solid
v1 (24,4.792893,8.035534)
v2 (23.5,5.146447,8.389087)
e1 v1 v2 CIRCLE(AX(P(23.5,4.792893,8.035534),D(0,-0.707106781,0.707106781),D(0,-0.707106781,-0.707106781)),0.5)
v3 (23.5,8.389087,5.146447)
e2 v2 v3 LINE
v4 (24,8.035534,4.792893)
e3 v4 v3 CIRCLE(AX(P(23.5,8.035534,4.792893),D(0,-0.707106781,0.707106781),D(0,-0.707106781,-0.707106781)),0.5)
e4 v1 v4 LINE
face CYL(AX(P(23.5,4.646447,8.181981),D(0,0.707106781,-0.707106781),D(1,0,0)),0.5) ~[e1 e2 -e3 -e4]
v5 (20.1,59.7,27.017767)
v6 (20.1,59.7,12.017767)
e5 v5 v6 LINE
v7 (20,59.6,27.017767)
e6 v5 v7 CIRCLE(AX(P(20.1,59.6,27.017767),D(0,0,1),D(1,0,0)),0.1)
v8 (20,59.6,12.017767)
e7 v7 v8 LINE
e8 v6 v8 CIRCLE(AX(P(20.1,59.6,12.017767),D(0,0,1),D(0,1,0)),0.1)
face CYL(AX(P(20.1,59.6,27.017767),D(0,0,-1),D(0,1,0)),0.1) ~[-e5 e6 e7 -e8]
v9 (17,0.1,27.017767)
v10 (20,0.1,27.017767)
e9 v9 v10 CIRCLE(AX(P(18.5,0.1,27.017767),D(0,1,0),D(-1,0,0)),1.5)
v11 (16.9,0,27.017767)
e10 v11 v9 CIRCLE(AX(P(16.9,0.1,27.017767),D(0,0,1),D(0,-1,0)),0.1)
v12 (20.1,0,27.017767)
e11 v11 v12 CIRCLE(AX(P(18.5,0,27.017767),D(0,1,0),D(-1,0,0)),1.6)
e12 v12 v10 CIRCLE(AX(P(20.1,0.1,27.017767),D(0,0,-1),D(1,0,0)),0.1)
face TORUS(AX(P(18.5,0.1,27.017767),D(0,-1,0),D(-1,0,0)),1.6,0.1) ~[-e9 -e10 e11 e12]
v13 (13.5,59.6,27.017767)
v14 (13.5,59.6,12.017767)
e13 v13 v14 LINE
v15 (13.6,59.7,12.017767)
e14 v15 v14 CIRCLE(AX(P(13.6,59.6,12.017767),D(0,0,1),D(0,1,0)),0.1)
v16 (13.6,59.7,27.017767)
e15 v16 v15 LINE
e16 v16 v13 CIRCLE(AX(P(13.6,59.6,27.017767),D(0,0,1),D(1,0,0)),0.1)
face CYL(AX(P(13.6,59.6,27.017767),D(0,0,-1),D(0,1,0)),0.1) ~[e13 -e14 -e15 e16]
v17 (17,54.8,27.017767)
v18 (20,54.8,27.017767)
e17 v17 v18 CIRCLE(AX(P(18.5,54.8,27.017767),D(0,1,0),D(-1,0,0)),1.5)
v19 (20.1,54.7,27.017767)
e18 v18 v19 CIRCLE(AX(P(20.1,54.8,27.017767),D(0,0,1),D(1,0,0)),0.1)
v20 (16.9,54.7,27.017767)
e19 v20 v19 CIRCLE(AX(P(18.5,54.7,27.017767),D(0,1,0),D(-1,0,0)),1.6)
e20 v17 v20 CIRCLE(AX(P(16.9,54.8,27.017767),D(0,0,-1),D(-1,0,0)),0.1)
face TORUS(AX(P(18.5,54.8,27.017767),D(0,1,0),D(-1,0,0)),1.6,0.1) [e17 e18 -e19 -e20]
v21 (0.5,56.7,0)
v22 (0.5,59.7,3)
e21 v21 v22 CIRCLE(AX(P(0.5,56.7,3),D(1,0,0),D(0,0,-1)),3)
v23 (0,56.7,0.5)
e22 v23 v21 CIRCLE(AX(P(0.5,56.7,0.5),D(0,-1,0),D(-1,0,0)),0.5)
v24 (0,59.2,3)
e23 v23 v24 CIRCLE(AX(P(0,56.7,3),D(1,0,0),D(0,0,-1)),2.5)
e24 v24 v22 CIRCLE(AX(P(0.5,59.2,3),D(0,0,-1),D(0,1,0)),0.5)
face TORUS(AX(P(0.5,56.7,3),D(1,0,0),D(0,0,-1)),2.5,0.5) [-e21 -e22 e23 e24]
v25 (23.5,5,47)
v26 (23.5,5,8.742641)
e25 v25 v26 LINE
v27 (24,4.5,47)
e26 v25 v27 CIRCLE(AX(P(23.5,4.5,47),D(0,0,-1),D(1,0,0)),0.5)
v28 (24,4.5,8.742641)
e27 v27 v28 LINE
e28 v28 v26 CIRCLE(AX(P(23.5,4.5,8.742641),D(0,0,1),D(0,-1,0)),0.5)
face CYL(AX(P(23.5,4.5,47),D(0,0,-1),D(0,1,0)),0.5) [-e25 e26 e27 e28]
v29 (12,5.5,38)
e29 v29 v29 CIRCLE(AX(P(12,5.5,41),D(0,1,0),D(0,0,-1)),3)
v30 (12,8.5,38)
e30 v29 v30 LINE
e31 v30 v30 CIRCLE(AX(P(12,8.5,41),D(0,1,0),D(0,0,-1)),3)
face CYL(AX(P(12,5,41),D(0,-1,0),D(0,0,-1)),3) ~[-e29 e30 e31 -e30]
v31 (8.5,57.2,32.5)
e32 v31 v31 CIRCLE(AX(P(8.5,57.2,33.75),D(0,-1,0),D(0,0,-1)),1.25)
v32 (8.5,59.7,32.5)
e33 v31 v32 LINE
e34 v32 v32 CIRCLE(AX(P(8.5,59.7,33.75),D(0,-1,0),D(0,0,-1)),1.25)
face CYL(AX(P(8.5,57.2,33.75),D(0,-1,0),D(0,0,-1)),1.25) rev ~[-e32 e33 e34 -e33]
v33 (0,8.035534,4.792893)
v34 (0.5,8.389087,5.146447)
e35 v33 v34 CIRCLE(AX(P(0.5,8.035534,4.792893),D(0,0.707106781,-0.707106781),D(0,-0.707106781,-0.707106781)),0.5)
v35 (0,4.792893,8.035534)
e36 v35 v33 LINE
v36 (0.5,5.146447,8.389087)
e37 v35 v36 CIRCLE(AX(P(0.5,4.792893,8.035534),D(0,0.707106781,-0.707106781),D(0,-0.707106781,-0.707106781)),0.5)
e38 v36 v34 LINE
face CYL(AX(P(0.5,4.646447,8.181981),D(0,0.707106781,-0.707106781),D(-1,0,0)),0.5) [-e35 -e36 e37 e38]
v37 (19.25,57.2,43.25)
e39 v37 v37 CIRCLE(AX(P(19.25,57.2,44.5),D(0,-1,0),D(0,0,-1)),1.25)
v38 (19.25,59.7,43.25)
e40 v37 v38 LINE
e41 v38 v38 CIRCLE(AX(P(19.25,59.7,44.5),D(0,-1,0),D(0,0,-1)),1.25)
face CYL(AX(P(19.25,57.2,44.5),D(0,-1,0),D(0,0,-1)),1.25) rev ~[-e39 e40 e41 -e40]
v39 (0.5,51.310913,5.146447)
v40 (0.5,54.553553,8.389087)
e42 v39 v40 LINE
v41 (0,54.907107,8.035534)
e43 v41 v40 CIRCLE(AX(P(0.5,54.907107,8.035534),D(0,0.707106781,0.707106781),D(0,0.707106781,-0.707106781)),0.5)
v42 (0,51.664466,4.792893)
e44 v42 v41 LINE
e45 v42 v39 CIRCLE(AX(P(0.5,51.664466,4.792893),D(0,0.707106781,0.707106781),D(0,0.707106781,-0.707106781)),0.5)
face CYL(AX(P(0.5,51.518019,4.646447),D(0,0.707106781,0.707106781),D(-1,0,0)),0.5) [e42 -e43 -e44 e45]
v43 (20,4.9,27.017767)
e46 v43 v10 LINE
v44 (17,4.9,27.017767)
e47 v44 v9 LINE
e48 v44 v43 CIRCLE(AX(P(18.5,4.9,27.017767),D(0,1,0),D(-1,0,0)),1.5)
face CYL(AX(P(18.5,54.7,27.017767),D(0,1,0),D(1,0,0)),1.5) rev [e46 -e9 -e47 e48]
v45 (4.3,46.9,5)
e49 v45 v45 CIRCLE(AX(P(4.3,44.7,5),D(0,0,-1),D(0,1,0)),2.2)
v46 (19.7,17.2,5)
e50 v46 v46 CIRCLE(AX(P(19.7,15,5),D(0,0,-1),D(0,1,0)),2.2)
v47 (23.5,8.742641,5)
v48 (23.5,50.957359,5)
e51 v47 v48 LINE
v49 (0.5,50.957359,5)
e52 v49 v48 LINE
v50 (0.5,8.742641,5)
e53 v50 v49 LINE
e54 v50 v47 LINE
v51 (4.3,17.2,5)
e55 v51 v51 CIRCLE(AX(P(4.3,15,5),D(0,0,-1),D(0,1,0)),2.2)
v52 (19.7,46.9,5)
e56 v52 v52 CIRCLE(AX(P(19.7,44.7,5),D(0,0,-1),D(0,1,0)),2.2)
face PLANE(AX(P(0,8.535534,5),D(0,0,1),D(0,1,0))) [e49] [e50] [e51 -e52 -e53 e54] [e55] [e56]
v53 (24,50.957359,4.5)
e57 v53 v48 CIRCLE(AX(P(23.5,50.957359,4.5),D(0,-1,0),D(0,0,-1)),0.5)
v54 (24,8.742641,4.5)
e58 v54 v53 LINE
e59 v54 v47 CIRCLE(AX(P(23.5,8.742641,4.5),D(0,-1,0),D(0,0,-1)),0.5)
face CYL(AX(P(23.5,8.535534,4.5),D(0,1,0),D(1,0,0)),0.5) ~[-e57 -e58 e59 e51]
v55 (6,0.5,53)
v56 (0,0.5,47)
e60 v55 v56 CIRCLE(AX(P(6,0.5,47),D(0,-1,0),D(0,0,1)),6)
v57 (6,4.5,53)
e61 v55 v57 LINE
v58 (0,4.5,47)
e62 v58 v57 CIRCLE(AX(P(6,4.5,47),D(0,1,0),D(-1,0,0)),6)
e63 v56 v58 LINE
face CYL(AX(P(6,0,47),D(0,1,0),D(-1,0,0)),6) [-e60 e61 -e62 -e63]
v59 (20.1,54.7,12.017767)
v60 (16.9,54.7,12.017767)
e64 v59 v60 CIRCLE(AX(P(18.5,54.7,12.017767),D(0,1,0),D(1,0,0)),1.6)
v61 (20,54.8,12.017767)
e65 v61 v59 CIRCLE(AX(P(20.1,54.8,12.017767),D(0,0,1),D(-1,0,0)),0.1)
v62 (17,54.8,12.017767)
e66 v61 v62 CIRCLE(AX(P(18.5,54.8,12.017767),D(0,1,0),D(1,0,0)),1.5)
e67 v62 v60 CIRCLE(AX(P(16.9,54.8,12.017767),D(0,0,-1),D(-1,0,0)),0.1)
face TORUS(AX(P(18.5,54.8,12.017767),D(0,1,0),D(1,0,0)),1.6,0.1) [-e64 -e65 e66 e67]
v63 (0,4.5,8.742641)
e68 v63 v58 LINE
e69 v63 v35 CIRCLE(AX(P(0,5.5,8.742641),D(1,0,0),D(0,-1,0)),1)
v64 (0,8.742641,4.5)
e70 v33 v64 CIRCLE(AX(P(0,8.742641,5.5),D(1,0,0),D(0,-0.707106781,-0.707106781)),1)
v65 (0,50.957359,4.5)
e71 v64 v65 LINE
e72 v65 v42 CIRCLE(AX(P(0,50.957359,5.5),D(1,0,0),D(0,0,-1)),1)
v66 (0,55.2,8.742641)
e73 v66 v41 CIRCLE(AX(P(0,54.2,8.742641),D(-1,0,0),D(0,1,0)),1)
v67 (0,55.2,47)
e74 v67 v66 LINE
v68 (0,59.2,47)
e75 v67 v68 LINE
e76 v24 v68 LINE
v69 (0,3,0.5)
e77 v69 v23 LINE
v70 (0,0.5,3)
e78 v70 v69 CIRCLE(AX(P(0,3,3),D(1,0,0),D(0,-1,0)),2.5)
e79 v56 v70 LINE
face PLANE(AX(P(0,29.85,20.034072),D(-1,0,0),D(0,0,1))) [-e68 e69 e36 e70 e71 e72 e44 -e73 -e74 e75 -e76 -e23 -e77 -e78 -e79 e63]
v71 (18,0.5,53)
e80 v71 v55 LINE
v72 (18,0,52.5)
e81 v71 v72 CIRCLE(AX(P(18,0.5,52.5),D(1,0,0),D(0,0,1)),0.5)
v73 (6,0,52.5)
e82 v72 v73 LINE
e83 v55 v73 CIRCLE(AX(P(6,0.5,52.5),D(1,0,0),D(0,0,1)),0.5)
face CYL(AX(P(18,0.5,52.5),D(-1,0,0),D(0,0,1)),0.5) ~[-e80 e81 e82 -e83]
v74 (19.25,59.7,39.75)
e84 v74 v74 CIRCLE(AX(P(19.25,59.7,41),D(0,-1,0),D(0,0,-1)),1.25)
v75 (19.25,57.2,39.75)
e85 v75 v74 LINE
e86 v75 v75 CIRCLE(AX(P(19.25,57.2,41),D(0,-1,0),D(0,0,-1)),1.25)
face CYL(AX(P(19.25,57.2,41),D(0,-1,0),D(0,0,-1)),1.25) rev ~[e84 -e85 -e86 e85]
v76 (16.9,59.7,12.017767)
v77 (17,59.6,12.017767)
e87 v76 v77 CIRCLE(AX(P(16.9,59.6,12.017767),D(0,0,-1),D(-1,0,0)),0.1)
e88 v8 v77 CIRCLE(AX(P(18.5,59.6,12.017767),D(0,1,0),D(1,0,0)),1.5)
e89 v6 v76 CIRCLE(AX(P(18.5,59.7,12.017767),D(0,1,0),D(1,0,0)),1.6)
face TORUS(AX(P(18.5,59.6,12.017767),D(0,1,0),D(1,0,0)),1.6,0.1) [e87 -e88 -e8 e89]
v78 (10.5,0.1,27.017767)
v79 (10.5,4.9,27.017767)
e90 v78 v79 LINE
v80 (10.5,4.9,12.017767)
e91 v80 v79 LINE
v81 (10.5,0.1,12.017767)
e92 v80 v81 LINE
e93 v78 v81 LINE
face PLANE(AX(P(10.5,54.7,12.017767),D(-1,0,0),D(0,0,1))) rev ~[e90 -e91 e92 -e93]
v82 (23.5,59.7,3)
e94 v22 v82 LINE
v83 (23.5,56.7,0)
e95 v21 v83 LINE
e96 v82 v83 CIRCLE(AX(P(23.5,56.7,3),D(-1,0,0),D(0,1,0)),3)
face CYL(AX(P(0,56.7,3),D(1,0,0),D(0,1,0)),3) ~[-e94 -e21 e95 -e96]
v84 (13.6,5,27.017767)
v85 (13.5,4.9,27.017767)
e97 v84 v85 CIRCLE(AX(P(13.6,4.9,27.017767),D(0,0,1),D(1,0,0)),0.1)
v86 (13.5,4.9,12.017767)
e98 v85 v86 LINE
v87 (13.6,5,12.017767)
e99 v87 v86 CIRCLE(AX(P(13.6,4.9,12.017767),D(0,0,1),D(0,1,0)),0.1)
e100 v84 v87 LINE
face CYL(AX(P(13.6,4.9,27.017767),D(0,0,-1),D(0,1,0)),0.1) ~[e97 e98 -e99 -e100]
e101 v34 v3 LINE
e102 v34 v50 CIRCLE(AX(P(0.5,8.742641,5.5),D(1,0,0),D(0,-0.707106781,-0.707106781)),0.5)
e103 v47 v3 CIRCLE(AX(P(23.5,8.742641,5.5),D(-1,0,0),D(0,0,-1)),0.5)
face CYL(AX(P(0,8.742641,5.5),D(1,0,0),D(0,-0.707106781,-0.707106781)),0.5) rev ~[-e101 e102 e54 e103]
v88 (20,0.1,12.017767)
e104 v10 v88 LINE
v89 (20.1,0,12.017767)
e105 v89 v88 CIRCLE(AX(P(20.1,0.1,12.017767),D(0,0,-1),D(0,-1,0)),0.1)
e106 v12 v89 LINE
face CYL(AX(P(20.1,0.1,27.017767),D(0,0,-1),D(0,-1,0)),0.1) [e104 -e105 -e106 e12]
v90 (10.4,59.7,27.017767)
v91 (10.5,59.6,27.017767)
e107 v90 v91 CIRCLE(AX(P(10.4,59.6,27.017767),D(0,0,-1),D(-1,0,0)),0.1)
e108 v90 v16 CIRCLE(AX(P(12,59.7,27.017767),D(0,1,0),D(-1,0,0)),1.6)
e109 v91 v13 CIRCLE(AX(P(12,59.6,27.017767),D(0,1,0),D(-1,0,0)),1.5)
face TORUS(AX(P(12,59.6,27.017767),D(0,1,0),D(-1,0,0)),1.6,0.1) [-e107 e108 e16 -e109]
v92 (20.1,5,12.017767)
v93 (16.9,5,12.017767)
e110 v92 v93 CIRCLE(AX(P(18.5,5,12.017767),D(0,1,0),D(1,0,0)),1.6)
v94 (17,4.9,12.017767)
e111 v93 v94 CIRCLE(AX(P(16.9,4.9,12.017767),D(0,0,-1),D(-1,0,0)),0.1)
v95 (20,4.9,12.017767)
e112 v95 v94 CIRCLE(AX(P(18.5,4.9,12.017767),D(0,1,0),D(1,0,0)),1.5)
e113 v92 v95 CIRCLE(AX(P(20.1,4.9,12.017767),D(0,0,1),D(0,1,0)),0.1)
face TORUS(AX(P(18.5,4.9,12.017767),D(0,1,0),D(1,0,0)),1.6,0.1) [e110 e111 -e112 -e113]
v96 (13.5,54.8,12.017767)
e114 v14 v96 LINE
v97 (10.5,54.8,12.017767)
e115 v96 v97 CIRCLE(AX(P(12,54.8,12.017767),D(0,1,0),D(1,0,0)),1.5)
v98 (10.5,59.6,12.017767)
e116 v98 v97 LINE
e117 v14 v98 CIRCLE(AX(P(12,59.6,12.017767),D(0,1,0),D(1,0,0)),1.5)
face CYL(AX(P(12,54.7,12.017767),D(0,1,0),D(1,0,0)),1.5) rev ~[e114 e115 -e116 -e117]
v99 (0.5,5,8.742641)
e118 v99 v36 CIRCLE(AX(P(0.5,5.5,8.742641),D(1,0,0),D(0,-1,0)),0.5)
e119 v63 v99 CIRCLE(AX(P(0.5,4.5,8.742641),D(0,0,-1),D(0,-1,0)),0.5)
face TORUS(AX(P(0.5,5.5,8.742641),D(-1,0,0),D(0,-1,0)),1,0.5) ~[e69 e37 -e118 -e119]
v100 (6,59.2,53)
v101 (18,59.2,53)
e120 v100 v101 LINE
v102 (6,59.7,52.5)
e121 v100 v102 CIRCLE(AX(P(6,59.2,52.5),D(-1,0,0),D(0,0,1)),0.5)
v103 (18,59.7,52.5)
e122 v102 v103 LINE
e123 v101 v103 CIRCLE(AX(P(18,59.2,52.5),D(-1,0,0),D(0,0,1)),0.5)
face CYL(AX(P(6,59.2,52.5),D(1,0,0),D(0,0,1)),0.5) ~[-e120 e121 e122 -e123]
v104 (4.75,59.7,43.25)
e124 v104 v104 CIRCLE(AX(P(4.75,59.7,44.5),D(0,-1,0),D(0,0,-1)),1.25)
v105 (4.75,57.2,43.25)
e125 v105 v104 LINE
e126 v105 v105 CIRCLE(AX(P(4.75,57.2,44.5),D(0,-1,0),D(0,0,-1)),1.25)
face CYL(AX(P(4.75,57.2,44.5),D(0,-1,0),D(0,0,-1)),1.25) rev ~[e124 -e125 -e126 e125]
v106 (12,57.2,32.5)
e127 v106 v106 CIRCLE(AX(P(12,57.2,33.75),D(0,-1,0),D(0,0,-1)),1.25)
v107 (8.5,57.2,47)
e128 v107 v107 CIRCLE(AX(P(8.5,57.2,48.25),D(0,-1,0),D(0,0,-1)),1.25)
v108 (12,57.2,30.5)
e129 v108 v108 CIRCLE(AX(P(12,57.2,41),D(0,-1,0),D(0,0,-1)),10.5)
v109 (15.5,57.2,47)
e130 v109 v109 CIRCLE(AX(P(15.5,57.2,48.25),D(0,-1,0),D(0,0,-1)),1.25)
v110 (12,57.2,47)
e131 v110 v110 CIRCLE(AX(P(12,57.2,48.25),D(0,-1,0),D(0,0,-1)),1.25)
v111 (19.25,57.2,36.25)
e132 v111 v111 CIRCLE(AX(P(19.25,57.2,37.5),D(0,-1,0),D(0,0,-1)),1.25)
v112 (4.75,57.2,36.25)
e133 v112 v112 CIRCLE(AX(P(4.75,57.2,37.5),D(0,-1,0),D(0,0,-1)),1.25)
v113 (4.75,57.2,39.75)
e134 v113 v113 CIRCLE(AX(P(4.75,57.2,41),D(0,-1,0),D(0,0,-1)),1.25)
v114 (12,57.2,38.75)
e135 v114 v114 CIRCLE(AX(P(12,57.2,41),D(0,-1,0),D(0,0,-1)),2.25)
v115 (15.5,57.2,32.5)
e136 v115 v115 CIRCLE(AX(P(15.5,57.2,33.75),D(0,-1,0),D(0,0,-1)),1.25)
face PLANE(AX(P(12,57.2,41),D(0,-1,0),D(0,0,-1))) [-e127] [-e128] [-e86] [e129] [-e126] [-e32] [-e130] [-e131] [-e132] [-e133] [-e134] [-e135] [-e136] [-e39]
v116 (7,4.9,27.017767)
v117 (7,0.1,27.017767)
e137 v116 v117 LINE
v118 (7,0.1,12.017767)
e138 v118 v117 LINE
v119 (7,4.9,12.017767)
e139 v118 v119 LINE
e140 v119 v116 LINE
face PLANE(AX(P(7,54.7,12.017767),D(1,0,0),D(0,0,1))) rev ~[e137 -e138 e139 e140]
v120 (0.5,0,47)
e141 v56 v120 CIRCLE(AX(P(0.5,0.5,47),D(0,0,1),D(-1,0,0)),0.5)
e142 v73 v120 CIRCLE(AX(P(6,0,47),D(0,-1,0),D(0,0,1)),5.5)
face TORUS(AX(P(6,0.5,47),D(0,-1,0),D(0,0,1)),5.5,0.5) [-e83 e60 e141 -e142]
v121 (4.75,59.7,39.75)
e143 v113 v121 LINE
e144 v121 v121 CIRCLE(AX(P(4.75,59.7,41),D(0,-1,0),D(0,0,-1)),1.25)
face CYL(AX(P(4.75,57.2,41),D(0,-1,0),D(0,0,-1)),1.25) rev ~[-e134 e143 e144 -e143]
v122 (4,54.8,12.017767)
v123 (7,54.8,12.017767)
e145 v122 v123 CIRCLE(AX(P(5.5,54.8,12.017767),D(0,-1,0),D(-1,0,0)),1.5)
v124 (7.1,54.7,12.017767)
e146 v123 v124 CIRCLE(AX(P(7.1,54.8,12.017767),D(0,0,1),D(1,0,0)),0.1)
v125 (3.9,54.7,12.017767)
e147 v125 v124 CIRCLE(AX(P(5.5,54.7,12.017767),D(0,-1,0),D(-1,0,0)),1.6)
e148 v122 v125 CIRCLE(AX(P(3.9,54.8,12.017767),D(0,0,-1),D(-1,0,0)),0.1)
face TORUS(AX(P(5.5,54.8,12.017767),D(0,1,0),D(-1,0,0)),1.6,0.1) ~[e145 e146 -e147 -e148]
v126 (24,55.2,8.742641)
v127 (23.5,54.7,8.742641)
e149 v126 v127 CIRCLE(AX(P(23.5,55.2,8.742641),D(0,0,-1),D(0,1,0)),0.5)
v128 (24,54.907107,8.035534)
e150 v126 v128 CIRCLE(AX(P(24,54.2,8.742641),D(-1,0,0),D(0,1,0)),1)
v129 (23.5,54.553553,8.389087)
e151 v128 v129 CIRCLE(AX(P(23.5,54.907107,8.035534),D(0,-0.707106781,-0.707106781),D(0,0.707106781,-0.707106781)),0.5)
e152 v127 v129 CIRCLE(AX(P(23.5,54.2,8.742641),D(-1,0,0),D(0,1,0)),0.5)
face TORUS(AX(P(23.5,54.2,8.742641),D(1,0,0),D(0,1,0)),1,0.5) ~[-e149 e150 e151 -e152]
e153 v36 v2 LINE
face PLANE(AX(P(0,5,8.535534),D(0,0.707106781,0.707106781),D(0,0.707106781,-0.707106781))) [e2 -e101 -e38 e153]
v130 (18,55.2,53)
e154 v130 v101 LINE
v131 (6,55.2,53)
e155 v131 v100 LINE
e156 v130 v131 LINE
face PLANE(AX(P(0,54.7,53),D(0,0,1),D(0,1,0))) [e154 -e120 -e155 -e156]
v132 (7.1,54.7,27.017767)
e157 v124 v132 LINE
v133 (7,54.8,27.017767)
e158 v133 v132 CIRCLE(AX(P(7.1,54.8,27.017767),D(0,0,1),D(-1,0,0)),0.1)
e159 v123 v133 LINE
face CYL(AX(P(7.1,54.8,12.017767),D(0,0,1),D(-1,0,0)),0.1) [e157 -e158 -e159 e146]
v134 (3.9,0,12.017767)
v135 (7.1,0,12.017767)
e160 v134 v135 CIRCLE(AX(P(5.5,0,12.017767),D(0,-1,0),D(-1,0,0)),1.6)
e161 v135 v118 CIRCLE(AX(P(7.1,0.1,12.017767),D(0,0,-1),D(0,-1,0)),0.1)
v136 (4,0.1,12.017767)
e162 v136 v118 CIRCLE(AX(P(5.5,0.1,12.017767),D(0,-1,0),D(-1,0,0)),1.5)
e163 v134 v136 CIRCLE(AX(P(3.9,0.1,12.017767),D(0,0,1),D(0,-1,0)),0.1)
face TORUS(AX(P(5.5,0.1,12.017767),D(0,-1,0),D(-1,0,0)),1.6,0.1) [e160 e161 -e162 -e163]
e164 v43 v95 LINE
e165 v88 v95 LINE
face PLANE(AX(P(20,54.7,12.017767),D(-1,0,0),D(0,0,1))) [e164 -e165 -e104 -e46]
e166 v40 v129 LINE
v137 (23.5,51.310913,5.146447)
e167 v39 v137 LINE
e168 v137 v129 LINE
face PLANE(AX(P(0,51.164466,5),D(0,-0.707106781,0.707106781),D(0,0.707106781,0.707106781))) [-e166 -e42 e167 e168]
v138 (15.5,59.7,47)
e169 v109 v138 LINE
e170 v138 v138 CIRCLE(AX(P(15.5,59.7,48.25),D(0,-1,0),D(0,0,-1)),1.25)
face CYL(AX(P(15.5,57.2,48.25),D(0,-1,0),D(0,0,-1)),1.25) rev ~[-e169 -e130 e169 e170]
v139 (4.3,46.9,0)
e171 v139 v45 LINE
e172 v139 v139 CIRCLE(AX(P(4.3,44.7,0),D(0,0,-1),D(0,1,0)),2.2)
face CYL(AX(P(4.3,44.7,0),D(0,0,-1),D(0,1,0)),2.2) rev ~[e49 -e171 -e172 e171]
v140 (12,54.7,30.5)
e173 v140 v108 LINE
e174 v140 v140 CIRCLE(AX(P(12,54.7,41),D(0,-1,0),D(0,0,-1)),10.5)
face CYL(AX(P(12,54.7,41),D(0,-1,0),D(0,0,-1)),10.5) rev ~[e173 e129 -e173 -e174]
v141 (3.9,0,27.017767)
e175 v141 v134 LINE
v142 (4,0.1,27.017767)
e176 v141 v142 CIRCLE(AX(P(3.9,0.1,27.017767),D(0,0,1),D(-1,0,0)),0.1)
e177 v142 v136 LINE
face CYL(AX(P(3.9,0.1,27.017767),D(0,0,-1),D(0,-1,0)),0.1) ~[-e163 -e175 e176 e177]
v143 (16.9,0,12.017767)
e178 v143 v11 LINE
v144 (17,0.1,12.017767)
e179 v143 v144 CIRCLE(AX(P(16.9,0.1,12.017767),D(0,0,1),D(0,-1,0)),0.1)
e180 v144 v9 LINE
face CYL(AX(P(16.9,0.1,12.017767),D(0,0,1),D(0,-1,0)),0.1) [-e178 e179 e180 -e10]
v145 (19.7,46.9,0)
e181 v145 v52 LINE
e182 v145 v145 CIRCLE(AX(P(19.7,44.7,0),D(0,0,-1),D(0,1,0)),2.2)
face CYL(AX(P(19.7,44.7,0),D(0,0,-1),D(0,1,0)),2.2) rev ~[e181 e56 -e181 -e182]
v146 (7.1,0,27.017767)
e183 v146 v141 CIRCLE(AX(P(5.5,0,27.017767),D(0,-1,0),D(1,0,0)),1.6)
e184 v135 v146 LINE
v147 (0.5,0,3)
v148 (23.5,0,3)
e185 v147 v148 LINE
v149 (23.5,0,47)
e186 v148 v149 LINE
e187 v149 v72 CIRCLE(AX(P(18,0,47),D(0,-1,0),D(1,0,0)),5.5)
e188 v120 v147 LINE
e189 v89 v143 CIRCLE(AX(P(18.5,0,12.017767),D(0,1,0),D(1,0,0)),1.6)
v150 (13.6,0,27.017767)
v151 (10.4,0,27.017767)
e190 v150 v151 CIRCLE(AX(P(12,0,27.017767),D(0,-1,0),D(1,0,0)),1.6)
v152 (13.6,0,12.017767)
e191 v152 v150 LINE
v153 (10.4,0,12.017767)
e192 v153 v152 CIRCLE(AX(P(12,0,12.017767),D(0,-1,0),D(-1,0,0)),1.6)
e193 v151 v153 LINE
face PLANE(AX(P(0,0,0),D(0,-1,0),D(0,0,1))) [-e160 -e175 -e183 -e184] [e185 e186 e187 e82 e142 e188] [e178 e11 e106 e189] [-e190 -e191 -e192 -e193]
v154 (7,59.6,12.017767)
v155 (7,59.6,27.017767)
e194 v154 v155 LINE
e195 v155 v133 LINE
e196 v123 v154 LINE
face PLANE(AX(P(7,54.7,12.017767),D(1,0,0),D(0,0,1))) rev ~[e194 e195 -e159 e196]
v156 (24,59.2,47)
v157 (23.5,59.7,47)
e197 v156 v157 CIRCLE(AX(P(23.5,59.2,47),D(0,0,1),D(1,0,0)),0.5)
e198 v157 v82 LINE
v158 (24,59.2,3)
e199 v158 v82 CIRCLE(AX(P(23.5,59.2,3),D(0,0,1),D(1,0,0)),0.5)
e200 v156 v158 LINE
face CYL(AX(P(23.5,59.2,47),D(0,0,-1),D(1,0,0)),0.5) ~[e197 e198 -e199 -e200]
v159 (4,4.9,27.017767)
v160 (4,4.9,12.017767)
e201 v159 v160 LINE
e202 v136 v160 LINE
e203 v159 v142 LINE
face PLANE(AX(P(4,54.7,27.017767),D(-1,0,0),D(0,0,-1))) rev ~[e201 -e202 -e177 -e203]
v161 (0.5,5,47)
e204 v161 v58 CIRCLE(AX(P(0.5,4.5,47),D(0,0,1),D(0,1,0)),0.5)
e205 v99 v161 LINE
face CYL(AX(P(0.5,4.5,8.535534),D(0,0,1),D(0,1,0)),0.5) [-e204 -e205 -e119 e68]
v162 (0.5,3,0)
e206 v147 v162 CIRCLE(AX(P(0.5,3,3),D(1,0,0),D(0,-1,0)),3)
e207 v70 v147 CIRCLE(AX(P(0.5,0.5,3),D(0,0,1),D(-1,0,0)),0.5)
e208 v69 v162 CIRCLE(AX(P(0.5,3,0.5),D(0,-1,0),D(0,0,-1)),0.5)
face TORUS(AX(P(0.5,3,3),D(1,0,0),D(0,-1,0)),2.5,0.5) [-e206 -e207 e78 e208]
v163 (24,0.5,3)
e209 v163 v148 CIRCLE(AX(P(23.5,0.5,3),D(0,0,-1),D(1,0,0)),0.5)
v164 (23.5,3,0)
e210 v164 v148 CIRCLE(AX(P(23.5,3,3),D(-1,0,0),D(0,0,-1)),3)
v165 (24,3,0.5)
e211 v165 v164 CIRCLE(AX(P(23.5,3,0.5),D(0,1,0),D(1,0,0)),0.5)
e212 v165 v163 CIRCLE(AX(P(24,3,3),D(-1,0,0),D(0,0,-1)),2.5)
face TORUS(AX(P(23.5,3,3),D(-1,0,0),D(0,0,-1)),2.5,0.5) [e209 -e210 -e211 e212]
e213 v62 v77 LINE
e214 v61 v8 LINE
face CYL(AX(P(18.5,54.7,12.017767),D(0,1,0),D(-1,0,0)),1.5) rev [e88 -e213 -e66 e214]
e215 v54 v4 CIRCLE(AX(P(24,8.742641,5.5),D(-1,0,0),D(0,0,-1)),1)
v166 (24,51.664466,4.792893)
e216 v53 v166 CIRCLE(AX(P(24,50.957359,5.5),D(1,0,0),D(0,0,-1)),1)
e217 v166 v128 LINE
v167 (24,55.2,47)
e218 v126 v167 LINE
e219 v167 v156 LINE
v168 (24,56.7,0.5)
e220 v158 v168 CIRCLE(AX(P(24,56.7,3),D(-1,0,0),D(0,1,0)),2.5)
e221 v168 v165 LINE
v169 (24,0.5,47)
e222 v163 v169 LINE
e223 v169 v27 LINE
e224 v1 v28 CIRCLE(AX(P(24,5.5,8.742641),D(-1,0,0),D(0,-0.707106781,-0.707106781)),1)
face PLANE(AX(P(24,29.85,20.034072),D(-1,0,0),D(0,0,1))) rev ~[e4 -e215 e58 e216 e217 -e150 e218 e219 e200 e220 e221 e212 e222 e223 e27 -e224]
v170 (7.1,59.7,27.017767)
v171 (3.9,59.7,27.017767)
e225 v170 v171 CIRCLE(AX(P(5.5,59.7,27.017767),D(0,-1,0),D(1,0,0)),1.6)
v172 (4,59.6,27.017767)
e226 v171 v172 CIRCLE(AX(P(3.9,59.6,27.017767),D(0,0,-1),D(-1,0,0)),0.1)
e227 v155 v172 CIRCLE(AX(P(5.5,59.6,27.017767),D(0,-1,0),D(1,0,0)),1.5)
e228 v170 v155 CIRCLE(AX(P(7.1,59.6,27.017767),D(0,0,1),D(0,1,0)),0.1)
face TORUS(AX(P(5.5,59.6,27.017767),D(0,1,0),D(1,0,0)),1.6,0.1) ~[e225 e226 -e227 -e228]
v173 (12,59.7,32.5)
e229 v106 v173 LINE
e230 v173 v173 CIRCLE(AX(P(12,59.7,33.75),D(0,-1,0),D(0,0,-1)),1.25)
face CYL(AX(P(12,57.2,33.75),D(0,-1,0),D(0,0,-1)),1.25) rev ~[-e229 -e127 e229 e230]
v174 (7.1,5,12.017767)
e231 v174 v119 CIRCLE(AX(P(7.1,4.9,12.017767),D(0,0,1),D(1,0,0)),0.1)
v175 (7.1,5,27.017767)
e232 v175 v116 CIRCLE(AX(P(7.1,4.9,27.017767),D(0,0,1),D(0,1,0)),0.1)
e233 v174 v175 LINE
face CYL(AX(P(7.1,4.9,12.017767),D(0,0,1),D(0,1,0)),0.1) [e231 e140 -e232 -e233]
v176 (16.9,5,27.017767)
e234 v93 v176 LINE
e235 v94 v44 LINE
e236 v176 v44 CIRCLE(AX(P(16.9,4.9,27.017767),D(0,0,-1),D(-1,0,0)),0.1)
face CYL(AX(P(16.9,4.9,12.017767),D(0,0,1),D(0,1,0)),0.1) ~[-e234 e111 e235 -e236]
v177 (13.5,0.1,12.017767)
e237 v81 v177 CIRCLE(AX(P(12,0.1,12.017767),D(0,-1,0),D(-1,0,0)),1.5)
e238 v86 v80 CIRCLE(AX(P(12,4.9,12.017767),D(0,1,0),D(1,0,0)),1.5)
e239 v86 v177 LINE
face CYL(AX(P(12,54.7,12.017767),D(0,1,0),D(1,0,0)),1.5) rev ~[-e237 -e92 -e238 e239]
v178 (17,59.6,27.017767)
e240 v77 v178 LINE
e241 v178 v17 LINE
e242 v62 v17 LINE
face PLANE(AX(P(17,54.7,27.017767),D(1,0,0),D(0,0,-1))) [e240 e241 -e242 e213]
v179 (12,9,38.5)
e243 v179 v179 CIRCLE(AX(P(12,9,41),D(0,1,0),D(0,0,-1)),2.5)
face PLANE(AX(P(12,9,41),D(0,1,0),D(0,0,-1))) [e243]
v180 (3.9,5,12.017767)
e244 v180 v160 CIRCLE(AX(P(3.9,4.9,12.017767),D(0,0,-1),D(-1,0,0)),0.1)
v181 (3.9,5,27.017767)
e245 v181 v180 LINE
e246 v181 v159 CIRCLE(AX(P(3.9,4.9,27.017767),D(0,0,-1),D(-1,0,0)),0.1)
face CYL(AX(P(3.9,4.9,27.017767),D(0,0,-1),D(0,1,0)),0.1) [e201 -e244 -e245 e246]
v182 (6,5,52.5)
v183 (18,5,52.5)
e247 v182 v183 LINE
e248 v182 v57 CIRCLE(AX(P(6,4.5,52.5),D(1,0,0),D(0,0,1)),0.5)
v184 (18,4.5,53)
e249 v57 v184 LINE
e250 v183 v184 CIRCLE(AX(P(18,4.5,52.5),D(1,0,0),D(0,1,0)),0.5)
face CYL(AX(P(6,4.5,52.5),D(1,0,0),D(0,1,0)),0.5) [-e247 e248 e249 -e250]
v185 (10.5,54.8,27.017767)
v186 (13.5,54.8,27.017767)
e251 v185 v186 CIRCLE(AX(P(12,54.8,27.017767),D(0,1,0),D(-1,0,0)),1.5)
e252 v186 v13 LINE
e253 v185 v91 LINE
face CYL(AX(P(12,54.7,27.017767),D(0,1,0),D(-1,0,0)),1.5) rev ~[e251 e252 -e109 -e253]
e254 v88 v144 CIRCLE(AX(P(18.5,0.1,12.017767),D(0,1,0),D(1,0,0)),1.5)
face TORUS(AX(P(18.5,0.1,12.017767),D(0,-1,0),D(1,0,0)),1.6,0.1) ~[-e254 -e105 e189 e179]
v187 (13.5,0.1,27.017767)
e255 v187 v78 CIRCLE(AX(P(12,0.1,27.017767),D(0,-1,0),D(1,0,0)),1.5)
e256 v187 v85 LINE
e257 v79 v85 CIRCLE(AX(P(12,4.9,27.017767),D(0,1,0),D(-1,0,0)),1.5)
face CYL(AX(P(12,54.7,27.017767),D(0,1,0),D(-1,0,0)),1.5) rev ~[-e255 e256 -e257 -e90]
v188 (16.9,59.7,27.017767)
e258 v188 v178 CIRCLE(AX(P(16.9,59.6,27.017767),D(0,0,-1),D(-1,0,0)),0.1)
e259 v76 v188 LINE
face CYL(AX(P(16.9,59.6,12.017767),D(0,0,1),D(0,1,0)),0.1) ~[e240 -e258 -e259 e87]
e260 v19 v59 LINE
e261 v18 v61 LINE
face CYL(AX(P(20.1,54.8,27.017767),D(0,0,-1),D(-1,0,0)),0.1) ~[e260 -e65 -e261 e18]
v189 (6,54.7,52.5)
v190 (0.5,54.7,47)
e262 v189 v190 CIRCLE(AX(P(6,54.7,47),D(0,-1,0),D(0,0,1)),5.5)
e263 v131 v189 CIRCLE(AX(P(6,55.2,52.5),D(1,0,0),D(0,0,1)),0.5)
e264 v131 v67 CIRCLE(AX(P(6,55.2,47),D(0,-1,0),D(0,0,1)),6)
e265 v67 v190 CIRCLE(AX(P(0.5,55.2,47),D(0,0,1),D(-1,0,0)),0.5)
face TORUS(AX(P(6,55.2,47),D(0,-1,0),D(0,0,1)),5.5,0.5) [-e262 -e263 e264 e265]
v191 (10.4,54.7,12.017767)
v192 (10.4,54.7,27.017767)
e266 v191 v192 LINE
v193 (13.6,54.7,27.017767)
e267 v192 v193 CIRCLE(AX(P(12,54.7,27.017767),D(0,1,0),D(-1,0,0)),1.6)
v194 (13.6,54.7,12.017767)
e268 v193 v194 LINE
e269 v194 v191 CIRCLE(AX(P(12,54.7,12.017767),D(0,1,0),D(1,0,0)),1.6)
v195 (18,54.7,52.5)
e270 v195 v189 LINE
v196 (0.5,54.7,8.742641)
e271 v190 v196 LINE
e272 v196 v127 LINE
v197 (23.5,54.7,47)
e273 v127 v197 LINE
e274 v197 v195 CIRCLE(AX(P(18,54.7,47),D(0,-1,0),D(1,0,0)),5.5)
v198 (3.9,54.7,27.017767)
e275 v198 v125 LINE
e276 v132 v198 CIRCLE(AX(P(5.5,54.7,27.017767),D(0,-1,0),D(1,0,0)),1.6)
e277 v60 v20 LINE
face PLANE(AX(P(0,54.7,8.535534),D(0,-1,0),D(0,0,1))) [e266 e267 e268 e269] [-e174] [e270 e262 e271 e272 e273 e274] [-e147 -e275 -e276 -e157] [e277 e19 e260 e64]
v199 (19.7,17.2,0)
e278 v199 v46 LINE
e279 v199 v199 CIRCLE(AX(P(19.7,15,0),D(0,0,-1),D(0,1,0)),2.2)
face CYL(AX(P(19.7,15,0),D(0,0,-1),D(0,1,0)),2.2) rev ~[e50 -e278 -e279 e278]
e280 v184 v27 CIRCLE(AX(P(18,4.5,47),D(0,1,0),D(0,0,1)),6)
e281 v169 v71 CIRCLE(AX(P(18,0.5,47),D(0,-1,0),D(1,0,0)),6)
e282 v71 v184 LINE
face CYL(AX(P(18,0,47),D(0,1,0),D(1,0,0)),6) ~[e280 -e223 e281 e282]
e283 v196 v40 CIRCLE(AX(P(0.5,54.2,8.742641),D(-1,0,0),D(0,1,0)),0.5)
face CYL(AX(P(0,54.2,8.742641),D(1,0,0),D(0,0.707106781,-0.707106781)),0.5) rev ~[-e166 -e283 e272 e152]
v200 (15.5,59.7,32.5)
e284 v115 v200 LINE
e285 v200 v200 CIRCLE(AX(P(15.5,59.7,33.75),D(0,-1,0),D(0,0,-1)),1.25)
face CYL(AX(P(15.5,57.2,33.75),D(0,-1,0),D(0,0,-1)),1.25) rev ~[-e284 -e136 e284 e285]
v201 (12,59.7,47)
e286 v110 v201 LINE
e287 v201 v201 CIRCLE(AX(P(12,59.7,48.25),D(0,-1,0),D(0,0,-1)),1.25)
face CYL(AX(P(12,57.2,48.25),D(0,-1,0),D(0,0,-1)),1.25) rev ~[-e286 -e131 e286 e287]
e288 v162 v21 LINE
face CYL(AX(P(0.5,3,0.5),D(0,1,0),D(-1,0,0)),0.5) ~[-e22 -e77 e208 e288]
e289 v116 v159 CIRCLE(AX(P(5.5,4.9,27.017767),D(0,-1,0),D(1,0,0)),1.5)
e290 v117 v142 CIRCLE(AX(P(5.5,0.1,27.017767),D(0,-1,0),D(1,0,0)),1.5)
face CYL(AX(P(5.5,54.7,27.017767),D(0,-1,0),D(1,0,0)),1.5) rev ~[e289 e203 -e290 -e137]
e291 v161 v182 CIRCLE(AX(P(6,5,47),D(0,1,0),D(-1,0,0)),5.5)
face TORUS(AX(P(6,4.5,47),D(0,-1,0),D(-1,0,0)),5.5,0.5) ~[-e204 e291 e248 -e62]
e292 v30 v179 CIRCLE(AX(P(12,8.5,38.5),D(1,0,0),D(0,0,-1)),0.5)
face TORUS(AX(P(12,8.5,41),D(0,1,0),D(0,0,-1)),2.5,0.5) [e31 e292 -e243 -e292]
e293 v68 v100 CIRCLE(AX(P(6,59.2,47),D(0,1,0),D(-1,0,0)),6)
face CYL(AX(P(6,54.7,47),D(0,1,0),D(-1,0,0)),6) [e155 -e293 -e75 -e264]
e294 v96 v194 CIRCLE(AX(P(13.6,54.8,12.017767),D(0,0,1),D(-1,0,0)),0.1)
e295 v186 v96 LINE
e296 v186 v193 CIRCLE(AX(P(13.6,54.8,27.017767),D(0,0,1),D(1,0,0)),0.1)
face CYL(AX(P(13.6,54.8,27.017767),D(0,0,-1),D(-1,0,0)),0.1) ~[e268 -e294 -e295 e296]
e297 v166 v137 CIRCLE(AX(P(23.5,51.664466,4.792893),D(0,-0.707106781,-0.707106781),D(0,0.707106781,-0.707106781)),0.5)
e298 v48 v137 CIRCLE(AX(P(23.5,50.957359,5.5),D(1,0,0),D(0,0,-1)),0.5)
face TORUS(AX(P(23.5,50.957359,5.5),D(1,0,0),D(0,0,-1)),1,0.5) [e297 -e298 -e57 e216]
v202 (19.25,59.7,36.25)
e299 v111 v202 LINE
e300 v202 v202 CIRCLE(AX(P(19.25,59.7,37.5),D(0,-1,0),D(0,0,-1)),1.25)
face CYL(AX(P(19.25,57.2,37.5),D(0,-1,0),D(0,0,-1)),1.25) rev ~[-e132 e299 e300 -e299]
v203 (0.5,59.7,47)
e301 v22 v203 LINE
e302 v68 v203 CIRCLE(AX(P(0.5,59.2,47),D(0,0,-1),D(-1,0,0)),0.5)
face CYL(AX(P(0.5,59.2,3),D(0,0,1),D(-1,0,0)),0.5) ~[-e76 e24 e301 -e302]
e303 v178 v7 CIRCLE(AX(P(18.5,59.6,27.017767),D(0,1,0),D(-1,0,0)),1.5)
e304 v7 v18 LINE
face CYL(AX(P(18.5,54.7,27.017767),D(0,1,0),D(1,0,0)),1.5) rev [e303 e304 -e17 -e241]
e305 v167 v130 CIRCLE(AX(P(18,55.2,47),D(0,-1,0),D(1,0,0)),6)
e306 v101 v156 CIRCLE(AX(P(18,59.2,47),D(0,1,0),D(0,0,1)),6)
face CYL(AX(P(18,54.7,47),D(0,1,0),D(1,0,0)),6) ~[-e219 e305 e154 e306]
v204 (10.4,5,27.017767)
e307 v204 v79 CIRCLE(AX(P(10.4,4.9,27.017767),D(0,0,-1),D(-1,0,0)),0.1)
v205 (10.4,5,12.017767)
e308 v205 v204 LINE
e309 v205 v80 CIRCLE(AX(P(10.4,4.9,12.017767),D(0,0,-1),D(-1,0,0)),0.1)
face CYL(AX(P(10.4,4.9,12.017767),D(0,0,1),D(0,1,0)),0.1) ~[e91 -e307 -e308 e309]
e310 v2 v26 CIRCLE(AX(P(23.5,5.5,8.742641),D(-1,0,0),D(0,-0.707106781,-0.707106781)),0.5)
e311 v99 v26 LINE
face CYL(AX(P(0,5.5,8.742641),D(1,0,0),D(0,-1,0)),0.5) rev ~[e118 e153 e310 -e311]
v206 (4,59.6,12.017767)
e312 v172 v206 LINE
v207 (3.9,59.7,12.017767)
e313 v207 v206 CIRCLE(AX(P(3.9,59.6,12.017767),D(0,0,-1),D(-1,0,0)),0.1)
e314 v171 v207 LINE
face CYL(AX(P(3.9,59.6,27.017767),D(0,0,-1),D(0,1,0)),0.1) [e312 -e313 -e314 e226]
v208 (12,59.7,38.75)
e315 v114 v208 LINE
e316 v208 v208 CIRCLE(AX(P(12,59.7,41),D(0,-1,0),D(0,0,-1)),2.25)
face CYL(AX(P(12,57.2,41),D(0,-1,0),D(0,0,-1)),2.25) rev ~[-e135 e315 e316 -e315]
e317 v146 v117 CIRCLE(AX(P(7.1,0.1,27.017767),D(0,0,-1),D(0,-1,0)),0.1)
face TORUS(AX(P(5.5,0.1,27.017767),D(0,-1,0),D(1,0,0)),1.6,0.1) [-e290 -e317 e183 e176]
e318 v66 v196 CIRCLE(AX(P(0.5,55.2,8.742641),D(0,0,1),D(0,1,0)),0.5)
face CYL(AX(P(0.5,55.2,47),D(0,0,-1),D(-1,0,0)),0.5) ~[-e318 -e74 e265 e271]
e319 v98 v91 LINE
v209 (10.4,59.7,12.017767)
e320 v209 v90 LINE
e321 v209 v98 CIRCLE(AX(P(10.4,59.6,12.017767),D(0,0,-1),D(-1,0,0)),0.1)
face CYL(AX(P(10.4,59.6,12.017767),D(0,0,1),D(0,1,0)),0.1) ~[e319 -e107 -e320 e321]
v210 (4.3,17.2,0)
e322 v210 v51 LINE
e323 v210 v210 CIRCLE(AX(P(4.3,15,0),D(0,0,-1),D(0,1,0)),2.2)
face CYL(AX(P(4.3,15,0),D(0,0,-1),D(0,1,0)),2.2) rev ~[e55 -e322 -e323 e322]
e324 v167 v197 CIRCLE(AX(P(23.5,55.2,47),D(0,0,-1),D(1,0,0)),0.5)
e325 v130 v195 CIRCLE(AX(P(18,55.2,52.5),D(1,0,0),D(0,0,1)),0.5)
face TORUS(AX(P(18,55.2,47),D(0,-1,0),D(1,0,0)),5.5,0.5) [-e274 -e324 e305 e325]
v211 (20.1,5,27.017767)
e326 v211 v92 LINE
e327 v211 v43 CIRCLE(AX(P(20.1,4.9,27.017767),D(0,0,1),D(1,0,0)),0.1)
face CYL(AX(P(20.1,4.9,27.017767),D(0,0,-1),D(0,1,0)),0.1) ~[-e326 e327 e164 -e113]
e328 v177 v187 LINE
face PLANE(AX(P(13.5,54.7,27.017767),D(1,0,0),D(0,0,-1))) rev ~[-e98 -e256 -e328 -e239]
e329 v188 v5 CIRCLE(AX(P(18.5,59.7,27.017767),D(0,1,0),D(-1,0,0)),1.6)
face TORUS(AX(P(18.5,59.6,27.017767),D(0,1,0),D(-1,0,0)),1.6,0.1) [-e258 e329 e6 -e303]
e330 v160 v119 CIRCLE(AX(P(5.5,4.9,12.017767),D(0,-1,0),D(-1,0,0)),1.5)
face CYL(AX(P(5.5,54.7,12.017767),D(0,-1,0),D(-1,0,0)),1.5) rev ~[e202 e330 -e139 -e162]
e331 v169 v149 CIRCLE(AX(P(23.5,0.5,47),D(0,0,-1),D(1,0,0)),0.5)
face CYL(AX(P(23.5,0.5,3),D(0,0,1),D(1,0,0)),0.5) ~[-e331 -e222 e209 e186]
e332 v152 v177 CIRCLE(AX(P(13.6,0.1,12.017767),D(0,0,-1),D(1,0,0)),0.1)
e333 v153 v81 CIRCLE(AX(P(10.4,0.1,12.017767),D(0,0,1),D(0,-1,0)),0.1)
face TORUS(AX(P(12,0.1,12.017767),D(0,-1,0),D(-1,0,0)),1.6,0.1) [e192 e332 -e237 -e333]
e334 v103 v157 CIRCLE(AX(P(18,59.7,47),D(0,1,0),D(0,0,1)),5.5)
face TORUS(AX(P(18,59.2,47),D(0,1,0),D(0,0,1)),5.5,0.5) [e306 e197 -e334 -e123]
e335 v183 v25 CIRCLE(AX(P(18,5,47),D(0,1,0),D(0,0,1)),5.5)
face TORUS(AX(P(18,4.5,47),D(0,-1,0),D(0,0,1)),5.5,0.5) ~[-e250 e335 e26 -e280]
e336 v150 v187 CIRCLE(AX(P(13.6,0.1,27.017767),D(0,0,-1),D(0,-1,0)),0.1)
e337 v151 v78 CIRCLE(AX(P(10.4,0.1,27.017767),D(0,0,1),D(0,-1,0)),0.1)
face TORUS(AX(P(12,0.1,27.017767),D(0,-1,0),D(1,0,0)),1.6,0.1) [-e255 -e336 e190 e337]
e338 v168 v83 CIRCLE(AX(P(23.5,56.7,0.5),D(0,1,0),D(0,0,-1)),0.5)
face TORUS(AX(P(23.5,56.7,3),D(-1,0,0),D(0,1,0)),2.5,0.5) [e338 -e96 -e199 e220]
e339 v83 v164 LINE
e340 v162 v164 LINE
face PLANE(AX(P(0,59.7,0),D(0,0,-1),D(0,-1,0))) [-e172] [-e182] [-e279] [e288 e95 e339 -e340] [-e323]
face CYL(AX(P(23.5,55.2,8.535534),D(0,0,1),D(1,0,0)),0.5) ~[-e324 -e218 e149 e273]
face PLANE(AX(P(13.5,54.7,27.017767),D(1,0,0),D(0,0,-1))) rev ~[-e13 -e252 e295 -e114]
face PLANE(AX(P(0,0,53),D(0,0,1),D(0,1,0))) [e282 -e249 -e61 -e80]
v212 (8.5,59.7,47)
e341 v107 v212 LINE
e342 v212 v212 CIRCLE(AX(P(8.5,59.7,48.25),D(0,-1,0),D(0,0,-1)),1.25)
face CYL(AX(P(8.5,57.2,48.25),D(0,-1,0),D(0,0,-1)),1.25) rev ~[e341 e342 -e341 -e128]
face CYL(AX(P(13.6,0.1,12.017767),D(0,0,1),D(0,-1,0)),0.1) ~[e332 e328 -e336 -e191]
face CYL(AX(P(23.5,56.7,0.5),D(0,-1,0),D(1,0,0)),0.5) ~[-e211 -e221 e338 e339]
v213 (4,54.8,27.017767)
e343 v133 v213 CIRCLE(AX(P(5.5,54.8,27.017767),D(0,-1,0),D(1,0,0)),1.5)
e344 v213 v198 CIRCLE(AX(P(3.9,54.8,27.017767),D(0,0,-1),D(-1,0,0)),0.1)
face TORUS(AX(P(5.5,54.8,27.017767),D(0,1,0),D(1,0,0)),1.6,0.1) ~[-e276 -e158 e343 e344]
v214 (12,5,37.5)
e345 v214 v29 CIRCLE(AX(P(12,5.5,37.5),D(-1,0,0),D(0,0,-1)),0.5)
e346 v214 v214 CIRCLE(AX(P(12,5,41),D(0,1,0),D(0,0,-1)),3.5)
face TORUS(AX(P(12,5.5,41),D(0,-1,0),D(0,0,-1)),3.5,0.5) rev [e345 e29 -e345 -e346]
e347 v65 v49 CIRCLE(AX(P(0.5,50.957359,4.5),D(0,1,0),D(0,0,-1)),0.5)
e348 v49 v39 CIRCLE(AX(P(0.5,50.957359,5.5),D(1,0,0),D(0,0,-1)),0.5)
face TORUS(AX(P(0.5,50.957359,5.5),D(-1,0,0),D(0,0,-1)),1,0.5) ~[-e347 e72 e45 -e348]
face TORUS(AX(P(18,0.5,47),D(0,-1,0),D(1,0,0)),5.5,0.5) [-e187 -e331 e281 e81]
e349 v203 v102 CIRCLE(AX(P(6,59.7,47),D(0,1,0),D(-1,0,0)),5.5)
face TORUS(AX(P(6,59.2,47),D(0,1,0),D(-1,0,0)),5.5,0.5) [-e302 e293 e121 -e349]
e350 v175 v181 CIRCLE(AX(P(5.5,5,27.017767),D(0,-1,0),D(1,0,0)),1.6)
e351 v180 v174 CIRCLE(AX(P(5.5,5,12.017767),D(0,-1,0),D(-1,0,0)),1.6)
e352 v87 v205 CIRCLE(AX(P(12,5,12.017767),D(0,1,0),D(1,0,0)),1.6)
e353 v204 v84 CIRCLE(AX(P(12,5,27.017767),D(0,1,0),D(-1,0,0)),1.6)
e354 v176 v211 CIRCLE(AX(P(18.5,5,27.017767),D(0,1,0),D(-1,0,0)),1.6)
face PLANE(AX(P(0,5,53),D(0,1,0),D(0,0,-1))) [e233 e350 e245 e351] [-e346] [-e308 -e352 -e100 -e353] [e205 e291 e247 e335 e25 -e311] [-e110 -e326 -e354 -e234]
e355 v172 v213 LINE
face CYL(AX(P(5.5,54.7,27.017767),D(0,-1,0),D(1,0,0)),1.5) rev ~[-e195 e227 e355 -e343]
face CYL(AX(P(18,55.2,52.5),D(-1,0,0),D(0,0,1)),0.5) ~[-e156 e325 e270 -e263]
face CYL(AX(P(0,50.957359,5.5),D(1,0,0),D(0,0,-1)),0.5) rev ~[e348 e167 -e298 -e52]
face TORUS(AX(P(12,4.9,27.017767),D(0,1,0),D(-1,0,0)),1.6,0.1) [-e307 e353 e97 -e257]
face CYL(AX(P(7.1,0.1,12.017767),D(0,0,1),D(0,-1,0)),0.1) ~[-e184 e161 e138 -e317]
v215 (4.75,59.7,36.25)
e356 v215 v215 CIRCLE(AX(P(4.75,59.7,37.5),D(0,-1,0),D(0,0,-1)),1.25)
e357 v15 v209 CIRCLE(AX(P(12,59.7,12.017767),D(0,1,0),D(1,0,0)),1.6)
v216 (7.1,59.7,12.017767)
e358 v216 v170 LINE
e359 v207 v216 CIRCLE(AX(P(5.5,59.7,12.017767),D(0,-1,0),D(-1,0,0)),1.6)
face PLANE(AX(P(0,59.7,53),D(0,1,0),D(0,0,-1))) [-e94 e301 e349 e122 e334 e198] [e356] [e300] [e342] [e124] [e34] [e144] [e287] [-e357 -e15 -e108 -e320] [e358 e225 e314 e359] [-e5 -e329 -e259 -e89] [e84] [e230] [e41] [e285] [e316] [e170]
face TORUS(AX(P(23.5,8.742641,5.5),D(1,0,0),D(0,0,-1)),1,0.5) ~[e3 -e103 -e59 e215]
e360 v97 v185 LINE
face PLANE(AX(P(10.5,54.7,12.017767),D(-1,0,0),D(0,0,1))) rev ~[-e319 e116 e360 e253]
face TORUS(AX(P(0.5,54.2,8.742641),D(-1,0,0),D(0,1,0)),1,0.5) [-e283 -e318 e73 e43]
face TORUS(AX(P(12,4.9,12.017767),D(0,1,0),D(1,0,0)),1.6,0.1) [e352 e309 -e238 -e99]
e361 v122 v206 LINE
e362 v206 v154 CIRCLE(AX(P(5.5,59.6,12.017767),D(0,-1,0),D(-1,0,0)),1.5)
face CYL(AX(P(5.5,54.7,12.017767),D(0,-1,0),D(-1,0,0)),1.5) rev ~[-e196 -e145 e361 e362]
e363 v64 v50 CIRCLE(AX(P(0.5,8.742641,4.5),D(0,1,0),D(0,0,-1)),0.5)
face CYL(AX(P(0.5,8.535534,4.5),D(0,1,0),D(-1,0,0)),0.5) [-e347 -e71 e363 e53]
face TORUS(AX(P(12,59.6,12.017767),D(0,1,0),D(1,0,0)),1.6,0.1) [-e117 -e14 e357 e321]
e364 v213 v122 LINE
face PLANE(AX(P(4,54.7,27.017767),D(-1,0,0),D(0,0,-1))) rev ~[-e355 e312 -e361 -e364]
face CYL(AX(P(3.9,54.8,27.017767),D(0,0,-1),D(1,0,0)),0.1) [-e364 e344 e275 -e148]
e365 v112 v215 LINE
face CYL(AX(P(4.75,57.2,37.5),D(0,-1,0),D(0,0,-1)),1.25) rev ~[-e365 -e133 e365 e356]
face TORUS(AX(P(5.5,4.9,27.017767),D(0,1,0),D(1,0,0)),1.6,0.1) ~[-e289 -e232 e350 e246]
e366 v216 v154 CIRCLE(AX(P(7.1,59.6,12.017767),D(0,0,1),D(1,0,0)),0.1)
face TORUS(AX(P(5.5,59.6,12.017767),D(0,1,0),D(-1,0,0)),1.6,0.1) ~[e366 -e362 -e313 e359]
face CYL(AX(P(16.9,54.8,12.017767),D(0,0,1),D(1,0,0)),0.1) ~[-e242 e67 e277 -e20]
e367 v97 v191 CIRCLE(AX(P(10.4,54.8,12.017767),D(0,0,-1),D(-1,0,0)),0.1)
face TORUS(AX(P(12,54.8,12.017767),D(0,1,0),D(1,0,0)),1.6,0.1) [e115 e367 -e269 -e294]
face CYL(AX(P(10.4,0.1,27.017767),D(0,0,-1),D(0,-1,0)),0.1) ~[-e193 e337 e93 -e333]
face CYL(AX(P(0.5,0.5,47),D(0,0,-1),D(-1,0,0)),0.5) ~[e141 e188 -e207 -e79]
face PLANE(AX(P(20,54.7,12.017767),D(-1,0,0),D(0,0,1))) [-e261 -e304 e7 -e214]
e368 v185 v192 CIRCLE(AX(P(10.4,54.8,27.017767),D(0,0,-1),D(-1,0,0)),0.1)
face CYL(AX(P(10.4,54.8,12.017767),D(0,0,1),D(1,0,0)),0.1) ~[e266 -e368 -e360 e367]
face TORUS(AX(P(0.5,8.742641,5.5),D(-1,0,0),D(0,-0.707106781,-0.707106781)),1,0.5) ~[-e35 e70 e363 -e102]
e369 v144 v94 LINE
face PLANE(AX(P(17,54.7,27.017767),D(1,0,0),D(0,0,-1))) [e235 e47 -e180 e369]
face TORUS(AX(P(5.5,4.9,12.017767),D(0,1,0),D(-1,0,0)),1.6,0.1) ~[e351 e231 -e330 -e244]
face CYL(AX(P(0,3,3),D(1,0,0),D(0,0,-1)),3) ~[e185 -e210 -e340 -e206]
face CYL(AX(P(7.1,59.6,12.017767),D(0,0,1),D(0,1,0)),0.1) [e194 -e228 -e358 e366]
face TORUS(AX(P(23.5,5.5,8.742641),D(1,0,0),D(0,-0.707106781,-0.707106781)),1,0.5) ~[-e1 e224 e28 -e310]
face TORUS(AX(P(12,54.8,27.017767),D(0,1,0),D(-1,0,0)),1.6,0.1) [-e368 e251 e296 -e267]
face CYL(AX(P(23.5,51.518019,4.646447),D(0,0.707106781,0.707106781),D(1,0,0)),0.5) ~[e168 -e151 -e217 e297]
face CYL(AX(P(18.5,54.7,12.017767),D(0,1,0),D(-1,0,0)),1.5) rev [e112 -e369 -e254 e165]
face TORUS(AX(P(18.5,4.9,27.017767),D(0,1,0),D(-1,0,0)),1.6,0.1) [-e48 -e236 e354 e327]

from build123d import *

# Parameters (mm, degrees)
BOSS_EXTRUDE1_DEPTH = 24
SKETCH2_R           = 10.5
CUT_EXTRUDE1_DEPTH  = 2.5
SKETCH4_R           = 2.25
SKETCH4_R_2         = 1.25
CUT_EXTRUDE2_DEPTH  = 10
FILLET2_R           = 6
FILLET3_R           = 3
SKETCH7_R           = 2.2
CUT_EXTRUDE3_DEPTH  = 7
SKETCH8_R           = 3
BOSS_EXTRUDE2_DEPTH = 4
FILLET4_R           = 0.5
CUT_EXTRUDE4_DEPTH  = 65
FILLET5_R           = 0.1


with BuildPart() as part:
    # Sketch1 → Boss-Extrude1 (new body)
    with BuildSketch(Plane(origin=(0, 0, 0), x_dir=(0, 0, -1), z_dir=(1, 0, 0))):
        Polygon((0, 59.7), (0, 0), (-53, 0), (-53, 5), (-8.535533906, 5), (-5, 8.535533906), (-5, 51.164466094), (-8.535533906, 54.7), (-53, 54.7), (-53, 59.7), align=None)
    extrude(amount=BOSS_EXTRUDE1_DEPTH)

    # Sketch2 → Cut-Extrude1 (cut)
    with BuildSketch(Plane.XZ.offset(-54.7)):
        with Locations(Location((12, 41, 0), (0, 0, 270))):
            Circle(SKETCH2_R)
    extrude(amount=-CUT_EXTRUDE1_DEPTH, mode=Mode.SUBTRACT)

    # Sketch4 → Cut-Extrude2 (cut)
    with BuildSketch(Plane.XZ.offset(-57.2)):
        with Locations(Location((12, 41, 0), (0, 0, 270))):
            Circle(SKETCH4_R)
        with Locations(Location((12, 48.25, 0), (0, 0, 270))):
            Circle(SKETCH4_R_2)
        with Locations(Location((8.5, 48.25, 0), (0, 0, 270))):
            Circle(SKETCH4_R_2)
        with Locations(Location((15.5, 48.25, 0), (0, 0, 270))):
            Circle(SKETCH4_R_2)
        with Locations(Location((19.25, 44.5, 0), (0, 0, 270))):
            Circle(SKETCH4_R_2)
        with Locations(Location((19.25, 41, 0), (0, 0, 270))):
            Circle(SKETCH4_R_2)
        with Locations(Location((19.25, 37.5, 0), (0, 0, 270))):
            Circle(SKETCH4_R_2)
        with Locations(Location((15.5, 33.75, 0), (0, 0, 270))):
            Circle(SKETCH4_R_2)
        with Locations(Location((12, 33.75, 0), (0, 0, 270))):
            Circle(SKETCH4_R_2)
        with Locations(Location((8.5, 33.75, 0), (0, 0, 270))):
            Circle(SKETCH4_R_2)
        with Locations(Location((4.75, 37.5, 0), (0, 0, 270))):
            Circle(SKETCH4_R_2)
        with Locations(Location((4.75, 41, 0), (0, 0, 270))):
            Circle(SKETCH4_R_2)
        with Locations(Location((4.75, 44.5, 0), (0, 0, 270))):
            Circle(SKETCH4_R_2)
    extrude(amount=-CUT_EXTRUDE2_DEPTH, mode=Mode.SUBTRACT)

    # Fillet2
    fillet2_edges = [part.edges().sort_by_distance(p)[0] for p in [
        (0, 2.5, 53),
        (0, 57.2, 53),
        (24, 2.5, 53),
        (24, 57.2, 53),
    ]]
    fillet(fillet2_edges, radius=FILLET2_R)

    # Fillet3
    fillet3_edges = [part.edges().sort_by_distance(p)[0] for p in [
        (12, 59.7, 0),
        (12, 0, 0),
    ]]
    fillet(fillet3_edges, radius=FILLET3_R)

    # Sketch7 → Cut-Extrude3 (cut)
    with BuildSketch(Plane(origin=(0, 0, 0), x_dir=(-1, 0, 0), z_dir=(0, 0, -1))):
        with Locations(Location((-19.7, 44.7, 0), (0, 0, 90))):
            Circle(SKETCH7_R)
        with Locations(Location((-19.7, 15, 0), (0, 0, 90))):
            Circle(SKETCH7_R)
        with Locations(Location((-4.3, 15, 0), (0, 0, 90))):
            Circle(SKETCH7_R)
        with Locations(Location((-4.3, 44.7, 0), (0, 0, 90))):
            Circle(SKETCH7_R)
    extrude(amount=-CUT_EXTRUDE3_DEPTH, mode=Mode.SUBTRACT)

    # Sketch8 → Boss-Extrude2 (add)
    with BuildSketch(Plane(origin=(0, 5, 0), x_dir=(1, 0, 0), z_dir=(0, 1, 0))):
        with Locations(Location((12, -41, 0), (0, 0, 90))):
            Circle(SKETCH8_R)
    extrude(amount=BOSS_EXTRUDE2_DEPTH)

    # Fillet4
    fillet4_edges = [part.edges().sort_by_distance(p)[0] for p in [
        (24, 54.7, 27.767766953),
        (24, 0, 25),
        (0, 0, 25),
        (12, 0, 53),
        (1.757359313, 0, 51.242640687),
        (22.242640687, 0, 51.242640687),
        (12, 5, 53),
        (1.757359313, 5, 51.242640687),
        (22.242640687, 5, 51.242640687),
        (0, 54.7, 27.767766953),
        (12, 54.7, 53),
        (1.757359313, 54.7, 51.242640687),
        (22.242640687, 54.7, 51.242640687),
        (12, 59.7, 53),
        (1.757359313, 59.7, 51.242640687),
        (0, 5, 27.767766953),
        (22.242640687, 59.7, 51.242640687),
        (0, 6.767766953, 6.767766953),
        (0, 29.85, 5),
        (0, 52.932233047, 6.767766953),
        (0, 29.85, 0),
        (24, 29.85, 0),
        (0, 59.7, 25),
        (0, 58.821320344, 0.878679656),
        (0, 0.878679656, 0.878679656),
        (24, 59.7, 25),
        (24, 58.821320344, 0.878679656),
        (24, 0.878679656, 0.878679656),
        (12, 5, 44),
        (12, 9, 44),
        (24, 52.932233047, 6.767766953),
        (12, 5, 8.535533906),
        (12, 8.535533906, 5),
        (12, 51.164466094, 5),
        (12, 54.7, 8.535533906),
        (24, 29.85, 5),
        (24, 6.767766953, 6.767766953),
        (24, 5, 27.767766953),
    ]]
    fillet(fillet4_edges, radius=FILLET4_R)

    # Sketch9 → Cut-Extrude4 (cut, symmetric)
    with BuildSketch(Plane.XZ.offset(-54.7)):
        with BuildLine():
            Line((10.5, 12.017766953), (10.5, 27.017766953))
            ThreePointArc((10.5, 27.017766953), (12, 28.517766953), (13.5, 27.017766953))
            Line((13.5, 27.017766953), (13.5, 12.017766953))
            ThreePointArc((13.5, 12.017766953), (12, 10.517766953), (10.5, 12.017766953))
        make_face()
        with BuildLine():
            Line((20, 12.017766953), (20, 27.017766953))
            ThreePointArc((20, 27.017766953), (18.5, 28.517766953), (17, 27.017766953))
            Line((17, 27.017766953), (17, 12.017766953))
            ThreePointArc((17, 12.017766953), (18.5, 10.517766953), (20, 12.017766953))
        make_face()
        with BuildLine():
            Line((7, 12.017766953), (7, 27.017766953))
            ThreePointArc((7, 27.017766953), (5.5, 28.517766953), (4, 27.017766953))
            Line((4, 27.017766953), (4, 12.017766953))
            ThreePointArc((4, 12.017766953), (5.5, 10.517766953), (7, 12.017766953))
        make_face()
    extrude(amount=CUT_EXTRUDE4_DEPTH, both=True, mode=Mode.SUBTRACT)

    # Fillet5
    fillet5_edges = [part.edges().sort_by_distance(p)[0] for p in [
        (10.5, 0, 19.517766953),
        (12, 0, 10.517766953),
        (13.5, 0, 19.517766953),
        (12, 0, 28.517766953),
        (7, 0, 19.517766953),
        (5.5, 0, 28.517766953),
        (4, 0, 19.517766953),
        (5.5, 0, 10.517766953),
        (17, 0, 19.517766953),
        (18.5, 0, 10.517766953),
        (20, 0, 19.517766953),
        (18.5, 0, 28.517766953),
        (18.5, 59.7, 28.517766953),
        (18.5, 54.7, 28.517766953),
        (18.5, 5, 28.517766953),
        (20, 59.7, 19.517766953),
        (20, 54.7, 19.517766953),
        (20, 5, 19.517766953),
        (18.5, 59.7, 10.517766953),
        (18.5, 54.7, 10.517766953),
        (18.5, 5, 10.517766953),
        (17, 59.7, 19.517766953),
        (17, 54.7, 19.517766953),
        (17, 5, 19.517766953),
        (5.5, 59.7, 10.517766953),
        (5.5, 54.7, 10.517766953),
        (5.5, 5, 10.517766953),
        (4, 59.7, 19.517766953),
        (4, 54.7, 19.517766953),
        (4, 5, 19.517766953),
        (5.5, 59.7, 28.517766953),
        (5.5, 54.7, 28.517766953),
        (5.5, 5, 28.517766953),
        (7, 59.7, 19.517766953),
        (7, 54.7, 19.517766953),
        (7, 5, 19.517766953),
        (12, 59.7, 28.517766953),
        (12, 54.7, 28.517766953),
        (12, 5, 28.517766953),
        (13.5, 59.7, 19.517766953),
        (13.5, 54.7, 19.517766953),
        (13.5, 5, 19.517766953),
        (12, 59.7, 10.517766953),
        (12, 54.7, 10.517766953),
        (12, 5, 10.517766953),
        (10.5, 59.7, 19.517766953),
        (10.5, 54.7, 19.517766953),
        (10.5, 5, 19.517766953),
    ]]
    fillet(fillet5_edges, radius=FILLET5_R)


solid = part.part
